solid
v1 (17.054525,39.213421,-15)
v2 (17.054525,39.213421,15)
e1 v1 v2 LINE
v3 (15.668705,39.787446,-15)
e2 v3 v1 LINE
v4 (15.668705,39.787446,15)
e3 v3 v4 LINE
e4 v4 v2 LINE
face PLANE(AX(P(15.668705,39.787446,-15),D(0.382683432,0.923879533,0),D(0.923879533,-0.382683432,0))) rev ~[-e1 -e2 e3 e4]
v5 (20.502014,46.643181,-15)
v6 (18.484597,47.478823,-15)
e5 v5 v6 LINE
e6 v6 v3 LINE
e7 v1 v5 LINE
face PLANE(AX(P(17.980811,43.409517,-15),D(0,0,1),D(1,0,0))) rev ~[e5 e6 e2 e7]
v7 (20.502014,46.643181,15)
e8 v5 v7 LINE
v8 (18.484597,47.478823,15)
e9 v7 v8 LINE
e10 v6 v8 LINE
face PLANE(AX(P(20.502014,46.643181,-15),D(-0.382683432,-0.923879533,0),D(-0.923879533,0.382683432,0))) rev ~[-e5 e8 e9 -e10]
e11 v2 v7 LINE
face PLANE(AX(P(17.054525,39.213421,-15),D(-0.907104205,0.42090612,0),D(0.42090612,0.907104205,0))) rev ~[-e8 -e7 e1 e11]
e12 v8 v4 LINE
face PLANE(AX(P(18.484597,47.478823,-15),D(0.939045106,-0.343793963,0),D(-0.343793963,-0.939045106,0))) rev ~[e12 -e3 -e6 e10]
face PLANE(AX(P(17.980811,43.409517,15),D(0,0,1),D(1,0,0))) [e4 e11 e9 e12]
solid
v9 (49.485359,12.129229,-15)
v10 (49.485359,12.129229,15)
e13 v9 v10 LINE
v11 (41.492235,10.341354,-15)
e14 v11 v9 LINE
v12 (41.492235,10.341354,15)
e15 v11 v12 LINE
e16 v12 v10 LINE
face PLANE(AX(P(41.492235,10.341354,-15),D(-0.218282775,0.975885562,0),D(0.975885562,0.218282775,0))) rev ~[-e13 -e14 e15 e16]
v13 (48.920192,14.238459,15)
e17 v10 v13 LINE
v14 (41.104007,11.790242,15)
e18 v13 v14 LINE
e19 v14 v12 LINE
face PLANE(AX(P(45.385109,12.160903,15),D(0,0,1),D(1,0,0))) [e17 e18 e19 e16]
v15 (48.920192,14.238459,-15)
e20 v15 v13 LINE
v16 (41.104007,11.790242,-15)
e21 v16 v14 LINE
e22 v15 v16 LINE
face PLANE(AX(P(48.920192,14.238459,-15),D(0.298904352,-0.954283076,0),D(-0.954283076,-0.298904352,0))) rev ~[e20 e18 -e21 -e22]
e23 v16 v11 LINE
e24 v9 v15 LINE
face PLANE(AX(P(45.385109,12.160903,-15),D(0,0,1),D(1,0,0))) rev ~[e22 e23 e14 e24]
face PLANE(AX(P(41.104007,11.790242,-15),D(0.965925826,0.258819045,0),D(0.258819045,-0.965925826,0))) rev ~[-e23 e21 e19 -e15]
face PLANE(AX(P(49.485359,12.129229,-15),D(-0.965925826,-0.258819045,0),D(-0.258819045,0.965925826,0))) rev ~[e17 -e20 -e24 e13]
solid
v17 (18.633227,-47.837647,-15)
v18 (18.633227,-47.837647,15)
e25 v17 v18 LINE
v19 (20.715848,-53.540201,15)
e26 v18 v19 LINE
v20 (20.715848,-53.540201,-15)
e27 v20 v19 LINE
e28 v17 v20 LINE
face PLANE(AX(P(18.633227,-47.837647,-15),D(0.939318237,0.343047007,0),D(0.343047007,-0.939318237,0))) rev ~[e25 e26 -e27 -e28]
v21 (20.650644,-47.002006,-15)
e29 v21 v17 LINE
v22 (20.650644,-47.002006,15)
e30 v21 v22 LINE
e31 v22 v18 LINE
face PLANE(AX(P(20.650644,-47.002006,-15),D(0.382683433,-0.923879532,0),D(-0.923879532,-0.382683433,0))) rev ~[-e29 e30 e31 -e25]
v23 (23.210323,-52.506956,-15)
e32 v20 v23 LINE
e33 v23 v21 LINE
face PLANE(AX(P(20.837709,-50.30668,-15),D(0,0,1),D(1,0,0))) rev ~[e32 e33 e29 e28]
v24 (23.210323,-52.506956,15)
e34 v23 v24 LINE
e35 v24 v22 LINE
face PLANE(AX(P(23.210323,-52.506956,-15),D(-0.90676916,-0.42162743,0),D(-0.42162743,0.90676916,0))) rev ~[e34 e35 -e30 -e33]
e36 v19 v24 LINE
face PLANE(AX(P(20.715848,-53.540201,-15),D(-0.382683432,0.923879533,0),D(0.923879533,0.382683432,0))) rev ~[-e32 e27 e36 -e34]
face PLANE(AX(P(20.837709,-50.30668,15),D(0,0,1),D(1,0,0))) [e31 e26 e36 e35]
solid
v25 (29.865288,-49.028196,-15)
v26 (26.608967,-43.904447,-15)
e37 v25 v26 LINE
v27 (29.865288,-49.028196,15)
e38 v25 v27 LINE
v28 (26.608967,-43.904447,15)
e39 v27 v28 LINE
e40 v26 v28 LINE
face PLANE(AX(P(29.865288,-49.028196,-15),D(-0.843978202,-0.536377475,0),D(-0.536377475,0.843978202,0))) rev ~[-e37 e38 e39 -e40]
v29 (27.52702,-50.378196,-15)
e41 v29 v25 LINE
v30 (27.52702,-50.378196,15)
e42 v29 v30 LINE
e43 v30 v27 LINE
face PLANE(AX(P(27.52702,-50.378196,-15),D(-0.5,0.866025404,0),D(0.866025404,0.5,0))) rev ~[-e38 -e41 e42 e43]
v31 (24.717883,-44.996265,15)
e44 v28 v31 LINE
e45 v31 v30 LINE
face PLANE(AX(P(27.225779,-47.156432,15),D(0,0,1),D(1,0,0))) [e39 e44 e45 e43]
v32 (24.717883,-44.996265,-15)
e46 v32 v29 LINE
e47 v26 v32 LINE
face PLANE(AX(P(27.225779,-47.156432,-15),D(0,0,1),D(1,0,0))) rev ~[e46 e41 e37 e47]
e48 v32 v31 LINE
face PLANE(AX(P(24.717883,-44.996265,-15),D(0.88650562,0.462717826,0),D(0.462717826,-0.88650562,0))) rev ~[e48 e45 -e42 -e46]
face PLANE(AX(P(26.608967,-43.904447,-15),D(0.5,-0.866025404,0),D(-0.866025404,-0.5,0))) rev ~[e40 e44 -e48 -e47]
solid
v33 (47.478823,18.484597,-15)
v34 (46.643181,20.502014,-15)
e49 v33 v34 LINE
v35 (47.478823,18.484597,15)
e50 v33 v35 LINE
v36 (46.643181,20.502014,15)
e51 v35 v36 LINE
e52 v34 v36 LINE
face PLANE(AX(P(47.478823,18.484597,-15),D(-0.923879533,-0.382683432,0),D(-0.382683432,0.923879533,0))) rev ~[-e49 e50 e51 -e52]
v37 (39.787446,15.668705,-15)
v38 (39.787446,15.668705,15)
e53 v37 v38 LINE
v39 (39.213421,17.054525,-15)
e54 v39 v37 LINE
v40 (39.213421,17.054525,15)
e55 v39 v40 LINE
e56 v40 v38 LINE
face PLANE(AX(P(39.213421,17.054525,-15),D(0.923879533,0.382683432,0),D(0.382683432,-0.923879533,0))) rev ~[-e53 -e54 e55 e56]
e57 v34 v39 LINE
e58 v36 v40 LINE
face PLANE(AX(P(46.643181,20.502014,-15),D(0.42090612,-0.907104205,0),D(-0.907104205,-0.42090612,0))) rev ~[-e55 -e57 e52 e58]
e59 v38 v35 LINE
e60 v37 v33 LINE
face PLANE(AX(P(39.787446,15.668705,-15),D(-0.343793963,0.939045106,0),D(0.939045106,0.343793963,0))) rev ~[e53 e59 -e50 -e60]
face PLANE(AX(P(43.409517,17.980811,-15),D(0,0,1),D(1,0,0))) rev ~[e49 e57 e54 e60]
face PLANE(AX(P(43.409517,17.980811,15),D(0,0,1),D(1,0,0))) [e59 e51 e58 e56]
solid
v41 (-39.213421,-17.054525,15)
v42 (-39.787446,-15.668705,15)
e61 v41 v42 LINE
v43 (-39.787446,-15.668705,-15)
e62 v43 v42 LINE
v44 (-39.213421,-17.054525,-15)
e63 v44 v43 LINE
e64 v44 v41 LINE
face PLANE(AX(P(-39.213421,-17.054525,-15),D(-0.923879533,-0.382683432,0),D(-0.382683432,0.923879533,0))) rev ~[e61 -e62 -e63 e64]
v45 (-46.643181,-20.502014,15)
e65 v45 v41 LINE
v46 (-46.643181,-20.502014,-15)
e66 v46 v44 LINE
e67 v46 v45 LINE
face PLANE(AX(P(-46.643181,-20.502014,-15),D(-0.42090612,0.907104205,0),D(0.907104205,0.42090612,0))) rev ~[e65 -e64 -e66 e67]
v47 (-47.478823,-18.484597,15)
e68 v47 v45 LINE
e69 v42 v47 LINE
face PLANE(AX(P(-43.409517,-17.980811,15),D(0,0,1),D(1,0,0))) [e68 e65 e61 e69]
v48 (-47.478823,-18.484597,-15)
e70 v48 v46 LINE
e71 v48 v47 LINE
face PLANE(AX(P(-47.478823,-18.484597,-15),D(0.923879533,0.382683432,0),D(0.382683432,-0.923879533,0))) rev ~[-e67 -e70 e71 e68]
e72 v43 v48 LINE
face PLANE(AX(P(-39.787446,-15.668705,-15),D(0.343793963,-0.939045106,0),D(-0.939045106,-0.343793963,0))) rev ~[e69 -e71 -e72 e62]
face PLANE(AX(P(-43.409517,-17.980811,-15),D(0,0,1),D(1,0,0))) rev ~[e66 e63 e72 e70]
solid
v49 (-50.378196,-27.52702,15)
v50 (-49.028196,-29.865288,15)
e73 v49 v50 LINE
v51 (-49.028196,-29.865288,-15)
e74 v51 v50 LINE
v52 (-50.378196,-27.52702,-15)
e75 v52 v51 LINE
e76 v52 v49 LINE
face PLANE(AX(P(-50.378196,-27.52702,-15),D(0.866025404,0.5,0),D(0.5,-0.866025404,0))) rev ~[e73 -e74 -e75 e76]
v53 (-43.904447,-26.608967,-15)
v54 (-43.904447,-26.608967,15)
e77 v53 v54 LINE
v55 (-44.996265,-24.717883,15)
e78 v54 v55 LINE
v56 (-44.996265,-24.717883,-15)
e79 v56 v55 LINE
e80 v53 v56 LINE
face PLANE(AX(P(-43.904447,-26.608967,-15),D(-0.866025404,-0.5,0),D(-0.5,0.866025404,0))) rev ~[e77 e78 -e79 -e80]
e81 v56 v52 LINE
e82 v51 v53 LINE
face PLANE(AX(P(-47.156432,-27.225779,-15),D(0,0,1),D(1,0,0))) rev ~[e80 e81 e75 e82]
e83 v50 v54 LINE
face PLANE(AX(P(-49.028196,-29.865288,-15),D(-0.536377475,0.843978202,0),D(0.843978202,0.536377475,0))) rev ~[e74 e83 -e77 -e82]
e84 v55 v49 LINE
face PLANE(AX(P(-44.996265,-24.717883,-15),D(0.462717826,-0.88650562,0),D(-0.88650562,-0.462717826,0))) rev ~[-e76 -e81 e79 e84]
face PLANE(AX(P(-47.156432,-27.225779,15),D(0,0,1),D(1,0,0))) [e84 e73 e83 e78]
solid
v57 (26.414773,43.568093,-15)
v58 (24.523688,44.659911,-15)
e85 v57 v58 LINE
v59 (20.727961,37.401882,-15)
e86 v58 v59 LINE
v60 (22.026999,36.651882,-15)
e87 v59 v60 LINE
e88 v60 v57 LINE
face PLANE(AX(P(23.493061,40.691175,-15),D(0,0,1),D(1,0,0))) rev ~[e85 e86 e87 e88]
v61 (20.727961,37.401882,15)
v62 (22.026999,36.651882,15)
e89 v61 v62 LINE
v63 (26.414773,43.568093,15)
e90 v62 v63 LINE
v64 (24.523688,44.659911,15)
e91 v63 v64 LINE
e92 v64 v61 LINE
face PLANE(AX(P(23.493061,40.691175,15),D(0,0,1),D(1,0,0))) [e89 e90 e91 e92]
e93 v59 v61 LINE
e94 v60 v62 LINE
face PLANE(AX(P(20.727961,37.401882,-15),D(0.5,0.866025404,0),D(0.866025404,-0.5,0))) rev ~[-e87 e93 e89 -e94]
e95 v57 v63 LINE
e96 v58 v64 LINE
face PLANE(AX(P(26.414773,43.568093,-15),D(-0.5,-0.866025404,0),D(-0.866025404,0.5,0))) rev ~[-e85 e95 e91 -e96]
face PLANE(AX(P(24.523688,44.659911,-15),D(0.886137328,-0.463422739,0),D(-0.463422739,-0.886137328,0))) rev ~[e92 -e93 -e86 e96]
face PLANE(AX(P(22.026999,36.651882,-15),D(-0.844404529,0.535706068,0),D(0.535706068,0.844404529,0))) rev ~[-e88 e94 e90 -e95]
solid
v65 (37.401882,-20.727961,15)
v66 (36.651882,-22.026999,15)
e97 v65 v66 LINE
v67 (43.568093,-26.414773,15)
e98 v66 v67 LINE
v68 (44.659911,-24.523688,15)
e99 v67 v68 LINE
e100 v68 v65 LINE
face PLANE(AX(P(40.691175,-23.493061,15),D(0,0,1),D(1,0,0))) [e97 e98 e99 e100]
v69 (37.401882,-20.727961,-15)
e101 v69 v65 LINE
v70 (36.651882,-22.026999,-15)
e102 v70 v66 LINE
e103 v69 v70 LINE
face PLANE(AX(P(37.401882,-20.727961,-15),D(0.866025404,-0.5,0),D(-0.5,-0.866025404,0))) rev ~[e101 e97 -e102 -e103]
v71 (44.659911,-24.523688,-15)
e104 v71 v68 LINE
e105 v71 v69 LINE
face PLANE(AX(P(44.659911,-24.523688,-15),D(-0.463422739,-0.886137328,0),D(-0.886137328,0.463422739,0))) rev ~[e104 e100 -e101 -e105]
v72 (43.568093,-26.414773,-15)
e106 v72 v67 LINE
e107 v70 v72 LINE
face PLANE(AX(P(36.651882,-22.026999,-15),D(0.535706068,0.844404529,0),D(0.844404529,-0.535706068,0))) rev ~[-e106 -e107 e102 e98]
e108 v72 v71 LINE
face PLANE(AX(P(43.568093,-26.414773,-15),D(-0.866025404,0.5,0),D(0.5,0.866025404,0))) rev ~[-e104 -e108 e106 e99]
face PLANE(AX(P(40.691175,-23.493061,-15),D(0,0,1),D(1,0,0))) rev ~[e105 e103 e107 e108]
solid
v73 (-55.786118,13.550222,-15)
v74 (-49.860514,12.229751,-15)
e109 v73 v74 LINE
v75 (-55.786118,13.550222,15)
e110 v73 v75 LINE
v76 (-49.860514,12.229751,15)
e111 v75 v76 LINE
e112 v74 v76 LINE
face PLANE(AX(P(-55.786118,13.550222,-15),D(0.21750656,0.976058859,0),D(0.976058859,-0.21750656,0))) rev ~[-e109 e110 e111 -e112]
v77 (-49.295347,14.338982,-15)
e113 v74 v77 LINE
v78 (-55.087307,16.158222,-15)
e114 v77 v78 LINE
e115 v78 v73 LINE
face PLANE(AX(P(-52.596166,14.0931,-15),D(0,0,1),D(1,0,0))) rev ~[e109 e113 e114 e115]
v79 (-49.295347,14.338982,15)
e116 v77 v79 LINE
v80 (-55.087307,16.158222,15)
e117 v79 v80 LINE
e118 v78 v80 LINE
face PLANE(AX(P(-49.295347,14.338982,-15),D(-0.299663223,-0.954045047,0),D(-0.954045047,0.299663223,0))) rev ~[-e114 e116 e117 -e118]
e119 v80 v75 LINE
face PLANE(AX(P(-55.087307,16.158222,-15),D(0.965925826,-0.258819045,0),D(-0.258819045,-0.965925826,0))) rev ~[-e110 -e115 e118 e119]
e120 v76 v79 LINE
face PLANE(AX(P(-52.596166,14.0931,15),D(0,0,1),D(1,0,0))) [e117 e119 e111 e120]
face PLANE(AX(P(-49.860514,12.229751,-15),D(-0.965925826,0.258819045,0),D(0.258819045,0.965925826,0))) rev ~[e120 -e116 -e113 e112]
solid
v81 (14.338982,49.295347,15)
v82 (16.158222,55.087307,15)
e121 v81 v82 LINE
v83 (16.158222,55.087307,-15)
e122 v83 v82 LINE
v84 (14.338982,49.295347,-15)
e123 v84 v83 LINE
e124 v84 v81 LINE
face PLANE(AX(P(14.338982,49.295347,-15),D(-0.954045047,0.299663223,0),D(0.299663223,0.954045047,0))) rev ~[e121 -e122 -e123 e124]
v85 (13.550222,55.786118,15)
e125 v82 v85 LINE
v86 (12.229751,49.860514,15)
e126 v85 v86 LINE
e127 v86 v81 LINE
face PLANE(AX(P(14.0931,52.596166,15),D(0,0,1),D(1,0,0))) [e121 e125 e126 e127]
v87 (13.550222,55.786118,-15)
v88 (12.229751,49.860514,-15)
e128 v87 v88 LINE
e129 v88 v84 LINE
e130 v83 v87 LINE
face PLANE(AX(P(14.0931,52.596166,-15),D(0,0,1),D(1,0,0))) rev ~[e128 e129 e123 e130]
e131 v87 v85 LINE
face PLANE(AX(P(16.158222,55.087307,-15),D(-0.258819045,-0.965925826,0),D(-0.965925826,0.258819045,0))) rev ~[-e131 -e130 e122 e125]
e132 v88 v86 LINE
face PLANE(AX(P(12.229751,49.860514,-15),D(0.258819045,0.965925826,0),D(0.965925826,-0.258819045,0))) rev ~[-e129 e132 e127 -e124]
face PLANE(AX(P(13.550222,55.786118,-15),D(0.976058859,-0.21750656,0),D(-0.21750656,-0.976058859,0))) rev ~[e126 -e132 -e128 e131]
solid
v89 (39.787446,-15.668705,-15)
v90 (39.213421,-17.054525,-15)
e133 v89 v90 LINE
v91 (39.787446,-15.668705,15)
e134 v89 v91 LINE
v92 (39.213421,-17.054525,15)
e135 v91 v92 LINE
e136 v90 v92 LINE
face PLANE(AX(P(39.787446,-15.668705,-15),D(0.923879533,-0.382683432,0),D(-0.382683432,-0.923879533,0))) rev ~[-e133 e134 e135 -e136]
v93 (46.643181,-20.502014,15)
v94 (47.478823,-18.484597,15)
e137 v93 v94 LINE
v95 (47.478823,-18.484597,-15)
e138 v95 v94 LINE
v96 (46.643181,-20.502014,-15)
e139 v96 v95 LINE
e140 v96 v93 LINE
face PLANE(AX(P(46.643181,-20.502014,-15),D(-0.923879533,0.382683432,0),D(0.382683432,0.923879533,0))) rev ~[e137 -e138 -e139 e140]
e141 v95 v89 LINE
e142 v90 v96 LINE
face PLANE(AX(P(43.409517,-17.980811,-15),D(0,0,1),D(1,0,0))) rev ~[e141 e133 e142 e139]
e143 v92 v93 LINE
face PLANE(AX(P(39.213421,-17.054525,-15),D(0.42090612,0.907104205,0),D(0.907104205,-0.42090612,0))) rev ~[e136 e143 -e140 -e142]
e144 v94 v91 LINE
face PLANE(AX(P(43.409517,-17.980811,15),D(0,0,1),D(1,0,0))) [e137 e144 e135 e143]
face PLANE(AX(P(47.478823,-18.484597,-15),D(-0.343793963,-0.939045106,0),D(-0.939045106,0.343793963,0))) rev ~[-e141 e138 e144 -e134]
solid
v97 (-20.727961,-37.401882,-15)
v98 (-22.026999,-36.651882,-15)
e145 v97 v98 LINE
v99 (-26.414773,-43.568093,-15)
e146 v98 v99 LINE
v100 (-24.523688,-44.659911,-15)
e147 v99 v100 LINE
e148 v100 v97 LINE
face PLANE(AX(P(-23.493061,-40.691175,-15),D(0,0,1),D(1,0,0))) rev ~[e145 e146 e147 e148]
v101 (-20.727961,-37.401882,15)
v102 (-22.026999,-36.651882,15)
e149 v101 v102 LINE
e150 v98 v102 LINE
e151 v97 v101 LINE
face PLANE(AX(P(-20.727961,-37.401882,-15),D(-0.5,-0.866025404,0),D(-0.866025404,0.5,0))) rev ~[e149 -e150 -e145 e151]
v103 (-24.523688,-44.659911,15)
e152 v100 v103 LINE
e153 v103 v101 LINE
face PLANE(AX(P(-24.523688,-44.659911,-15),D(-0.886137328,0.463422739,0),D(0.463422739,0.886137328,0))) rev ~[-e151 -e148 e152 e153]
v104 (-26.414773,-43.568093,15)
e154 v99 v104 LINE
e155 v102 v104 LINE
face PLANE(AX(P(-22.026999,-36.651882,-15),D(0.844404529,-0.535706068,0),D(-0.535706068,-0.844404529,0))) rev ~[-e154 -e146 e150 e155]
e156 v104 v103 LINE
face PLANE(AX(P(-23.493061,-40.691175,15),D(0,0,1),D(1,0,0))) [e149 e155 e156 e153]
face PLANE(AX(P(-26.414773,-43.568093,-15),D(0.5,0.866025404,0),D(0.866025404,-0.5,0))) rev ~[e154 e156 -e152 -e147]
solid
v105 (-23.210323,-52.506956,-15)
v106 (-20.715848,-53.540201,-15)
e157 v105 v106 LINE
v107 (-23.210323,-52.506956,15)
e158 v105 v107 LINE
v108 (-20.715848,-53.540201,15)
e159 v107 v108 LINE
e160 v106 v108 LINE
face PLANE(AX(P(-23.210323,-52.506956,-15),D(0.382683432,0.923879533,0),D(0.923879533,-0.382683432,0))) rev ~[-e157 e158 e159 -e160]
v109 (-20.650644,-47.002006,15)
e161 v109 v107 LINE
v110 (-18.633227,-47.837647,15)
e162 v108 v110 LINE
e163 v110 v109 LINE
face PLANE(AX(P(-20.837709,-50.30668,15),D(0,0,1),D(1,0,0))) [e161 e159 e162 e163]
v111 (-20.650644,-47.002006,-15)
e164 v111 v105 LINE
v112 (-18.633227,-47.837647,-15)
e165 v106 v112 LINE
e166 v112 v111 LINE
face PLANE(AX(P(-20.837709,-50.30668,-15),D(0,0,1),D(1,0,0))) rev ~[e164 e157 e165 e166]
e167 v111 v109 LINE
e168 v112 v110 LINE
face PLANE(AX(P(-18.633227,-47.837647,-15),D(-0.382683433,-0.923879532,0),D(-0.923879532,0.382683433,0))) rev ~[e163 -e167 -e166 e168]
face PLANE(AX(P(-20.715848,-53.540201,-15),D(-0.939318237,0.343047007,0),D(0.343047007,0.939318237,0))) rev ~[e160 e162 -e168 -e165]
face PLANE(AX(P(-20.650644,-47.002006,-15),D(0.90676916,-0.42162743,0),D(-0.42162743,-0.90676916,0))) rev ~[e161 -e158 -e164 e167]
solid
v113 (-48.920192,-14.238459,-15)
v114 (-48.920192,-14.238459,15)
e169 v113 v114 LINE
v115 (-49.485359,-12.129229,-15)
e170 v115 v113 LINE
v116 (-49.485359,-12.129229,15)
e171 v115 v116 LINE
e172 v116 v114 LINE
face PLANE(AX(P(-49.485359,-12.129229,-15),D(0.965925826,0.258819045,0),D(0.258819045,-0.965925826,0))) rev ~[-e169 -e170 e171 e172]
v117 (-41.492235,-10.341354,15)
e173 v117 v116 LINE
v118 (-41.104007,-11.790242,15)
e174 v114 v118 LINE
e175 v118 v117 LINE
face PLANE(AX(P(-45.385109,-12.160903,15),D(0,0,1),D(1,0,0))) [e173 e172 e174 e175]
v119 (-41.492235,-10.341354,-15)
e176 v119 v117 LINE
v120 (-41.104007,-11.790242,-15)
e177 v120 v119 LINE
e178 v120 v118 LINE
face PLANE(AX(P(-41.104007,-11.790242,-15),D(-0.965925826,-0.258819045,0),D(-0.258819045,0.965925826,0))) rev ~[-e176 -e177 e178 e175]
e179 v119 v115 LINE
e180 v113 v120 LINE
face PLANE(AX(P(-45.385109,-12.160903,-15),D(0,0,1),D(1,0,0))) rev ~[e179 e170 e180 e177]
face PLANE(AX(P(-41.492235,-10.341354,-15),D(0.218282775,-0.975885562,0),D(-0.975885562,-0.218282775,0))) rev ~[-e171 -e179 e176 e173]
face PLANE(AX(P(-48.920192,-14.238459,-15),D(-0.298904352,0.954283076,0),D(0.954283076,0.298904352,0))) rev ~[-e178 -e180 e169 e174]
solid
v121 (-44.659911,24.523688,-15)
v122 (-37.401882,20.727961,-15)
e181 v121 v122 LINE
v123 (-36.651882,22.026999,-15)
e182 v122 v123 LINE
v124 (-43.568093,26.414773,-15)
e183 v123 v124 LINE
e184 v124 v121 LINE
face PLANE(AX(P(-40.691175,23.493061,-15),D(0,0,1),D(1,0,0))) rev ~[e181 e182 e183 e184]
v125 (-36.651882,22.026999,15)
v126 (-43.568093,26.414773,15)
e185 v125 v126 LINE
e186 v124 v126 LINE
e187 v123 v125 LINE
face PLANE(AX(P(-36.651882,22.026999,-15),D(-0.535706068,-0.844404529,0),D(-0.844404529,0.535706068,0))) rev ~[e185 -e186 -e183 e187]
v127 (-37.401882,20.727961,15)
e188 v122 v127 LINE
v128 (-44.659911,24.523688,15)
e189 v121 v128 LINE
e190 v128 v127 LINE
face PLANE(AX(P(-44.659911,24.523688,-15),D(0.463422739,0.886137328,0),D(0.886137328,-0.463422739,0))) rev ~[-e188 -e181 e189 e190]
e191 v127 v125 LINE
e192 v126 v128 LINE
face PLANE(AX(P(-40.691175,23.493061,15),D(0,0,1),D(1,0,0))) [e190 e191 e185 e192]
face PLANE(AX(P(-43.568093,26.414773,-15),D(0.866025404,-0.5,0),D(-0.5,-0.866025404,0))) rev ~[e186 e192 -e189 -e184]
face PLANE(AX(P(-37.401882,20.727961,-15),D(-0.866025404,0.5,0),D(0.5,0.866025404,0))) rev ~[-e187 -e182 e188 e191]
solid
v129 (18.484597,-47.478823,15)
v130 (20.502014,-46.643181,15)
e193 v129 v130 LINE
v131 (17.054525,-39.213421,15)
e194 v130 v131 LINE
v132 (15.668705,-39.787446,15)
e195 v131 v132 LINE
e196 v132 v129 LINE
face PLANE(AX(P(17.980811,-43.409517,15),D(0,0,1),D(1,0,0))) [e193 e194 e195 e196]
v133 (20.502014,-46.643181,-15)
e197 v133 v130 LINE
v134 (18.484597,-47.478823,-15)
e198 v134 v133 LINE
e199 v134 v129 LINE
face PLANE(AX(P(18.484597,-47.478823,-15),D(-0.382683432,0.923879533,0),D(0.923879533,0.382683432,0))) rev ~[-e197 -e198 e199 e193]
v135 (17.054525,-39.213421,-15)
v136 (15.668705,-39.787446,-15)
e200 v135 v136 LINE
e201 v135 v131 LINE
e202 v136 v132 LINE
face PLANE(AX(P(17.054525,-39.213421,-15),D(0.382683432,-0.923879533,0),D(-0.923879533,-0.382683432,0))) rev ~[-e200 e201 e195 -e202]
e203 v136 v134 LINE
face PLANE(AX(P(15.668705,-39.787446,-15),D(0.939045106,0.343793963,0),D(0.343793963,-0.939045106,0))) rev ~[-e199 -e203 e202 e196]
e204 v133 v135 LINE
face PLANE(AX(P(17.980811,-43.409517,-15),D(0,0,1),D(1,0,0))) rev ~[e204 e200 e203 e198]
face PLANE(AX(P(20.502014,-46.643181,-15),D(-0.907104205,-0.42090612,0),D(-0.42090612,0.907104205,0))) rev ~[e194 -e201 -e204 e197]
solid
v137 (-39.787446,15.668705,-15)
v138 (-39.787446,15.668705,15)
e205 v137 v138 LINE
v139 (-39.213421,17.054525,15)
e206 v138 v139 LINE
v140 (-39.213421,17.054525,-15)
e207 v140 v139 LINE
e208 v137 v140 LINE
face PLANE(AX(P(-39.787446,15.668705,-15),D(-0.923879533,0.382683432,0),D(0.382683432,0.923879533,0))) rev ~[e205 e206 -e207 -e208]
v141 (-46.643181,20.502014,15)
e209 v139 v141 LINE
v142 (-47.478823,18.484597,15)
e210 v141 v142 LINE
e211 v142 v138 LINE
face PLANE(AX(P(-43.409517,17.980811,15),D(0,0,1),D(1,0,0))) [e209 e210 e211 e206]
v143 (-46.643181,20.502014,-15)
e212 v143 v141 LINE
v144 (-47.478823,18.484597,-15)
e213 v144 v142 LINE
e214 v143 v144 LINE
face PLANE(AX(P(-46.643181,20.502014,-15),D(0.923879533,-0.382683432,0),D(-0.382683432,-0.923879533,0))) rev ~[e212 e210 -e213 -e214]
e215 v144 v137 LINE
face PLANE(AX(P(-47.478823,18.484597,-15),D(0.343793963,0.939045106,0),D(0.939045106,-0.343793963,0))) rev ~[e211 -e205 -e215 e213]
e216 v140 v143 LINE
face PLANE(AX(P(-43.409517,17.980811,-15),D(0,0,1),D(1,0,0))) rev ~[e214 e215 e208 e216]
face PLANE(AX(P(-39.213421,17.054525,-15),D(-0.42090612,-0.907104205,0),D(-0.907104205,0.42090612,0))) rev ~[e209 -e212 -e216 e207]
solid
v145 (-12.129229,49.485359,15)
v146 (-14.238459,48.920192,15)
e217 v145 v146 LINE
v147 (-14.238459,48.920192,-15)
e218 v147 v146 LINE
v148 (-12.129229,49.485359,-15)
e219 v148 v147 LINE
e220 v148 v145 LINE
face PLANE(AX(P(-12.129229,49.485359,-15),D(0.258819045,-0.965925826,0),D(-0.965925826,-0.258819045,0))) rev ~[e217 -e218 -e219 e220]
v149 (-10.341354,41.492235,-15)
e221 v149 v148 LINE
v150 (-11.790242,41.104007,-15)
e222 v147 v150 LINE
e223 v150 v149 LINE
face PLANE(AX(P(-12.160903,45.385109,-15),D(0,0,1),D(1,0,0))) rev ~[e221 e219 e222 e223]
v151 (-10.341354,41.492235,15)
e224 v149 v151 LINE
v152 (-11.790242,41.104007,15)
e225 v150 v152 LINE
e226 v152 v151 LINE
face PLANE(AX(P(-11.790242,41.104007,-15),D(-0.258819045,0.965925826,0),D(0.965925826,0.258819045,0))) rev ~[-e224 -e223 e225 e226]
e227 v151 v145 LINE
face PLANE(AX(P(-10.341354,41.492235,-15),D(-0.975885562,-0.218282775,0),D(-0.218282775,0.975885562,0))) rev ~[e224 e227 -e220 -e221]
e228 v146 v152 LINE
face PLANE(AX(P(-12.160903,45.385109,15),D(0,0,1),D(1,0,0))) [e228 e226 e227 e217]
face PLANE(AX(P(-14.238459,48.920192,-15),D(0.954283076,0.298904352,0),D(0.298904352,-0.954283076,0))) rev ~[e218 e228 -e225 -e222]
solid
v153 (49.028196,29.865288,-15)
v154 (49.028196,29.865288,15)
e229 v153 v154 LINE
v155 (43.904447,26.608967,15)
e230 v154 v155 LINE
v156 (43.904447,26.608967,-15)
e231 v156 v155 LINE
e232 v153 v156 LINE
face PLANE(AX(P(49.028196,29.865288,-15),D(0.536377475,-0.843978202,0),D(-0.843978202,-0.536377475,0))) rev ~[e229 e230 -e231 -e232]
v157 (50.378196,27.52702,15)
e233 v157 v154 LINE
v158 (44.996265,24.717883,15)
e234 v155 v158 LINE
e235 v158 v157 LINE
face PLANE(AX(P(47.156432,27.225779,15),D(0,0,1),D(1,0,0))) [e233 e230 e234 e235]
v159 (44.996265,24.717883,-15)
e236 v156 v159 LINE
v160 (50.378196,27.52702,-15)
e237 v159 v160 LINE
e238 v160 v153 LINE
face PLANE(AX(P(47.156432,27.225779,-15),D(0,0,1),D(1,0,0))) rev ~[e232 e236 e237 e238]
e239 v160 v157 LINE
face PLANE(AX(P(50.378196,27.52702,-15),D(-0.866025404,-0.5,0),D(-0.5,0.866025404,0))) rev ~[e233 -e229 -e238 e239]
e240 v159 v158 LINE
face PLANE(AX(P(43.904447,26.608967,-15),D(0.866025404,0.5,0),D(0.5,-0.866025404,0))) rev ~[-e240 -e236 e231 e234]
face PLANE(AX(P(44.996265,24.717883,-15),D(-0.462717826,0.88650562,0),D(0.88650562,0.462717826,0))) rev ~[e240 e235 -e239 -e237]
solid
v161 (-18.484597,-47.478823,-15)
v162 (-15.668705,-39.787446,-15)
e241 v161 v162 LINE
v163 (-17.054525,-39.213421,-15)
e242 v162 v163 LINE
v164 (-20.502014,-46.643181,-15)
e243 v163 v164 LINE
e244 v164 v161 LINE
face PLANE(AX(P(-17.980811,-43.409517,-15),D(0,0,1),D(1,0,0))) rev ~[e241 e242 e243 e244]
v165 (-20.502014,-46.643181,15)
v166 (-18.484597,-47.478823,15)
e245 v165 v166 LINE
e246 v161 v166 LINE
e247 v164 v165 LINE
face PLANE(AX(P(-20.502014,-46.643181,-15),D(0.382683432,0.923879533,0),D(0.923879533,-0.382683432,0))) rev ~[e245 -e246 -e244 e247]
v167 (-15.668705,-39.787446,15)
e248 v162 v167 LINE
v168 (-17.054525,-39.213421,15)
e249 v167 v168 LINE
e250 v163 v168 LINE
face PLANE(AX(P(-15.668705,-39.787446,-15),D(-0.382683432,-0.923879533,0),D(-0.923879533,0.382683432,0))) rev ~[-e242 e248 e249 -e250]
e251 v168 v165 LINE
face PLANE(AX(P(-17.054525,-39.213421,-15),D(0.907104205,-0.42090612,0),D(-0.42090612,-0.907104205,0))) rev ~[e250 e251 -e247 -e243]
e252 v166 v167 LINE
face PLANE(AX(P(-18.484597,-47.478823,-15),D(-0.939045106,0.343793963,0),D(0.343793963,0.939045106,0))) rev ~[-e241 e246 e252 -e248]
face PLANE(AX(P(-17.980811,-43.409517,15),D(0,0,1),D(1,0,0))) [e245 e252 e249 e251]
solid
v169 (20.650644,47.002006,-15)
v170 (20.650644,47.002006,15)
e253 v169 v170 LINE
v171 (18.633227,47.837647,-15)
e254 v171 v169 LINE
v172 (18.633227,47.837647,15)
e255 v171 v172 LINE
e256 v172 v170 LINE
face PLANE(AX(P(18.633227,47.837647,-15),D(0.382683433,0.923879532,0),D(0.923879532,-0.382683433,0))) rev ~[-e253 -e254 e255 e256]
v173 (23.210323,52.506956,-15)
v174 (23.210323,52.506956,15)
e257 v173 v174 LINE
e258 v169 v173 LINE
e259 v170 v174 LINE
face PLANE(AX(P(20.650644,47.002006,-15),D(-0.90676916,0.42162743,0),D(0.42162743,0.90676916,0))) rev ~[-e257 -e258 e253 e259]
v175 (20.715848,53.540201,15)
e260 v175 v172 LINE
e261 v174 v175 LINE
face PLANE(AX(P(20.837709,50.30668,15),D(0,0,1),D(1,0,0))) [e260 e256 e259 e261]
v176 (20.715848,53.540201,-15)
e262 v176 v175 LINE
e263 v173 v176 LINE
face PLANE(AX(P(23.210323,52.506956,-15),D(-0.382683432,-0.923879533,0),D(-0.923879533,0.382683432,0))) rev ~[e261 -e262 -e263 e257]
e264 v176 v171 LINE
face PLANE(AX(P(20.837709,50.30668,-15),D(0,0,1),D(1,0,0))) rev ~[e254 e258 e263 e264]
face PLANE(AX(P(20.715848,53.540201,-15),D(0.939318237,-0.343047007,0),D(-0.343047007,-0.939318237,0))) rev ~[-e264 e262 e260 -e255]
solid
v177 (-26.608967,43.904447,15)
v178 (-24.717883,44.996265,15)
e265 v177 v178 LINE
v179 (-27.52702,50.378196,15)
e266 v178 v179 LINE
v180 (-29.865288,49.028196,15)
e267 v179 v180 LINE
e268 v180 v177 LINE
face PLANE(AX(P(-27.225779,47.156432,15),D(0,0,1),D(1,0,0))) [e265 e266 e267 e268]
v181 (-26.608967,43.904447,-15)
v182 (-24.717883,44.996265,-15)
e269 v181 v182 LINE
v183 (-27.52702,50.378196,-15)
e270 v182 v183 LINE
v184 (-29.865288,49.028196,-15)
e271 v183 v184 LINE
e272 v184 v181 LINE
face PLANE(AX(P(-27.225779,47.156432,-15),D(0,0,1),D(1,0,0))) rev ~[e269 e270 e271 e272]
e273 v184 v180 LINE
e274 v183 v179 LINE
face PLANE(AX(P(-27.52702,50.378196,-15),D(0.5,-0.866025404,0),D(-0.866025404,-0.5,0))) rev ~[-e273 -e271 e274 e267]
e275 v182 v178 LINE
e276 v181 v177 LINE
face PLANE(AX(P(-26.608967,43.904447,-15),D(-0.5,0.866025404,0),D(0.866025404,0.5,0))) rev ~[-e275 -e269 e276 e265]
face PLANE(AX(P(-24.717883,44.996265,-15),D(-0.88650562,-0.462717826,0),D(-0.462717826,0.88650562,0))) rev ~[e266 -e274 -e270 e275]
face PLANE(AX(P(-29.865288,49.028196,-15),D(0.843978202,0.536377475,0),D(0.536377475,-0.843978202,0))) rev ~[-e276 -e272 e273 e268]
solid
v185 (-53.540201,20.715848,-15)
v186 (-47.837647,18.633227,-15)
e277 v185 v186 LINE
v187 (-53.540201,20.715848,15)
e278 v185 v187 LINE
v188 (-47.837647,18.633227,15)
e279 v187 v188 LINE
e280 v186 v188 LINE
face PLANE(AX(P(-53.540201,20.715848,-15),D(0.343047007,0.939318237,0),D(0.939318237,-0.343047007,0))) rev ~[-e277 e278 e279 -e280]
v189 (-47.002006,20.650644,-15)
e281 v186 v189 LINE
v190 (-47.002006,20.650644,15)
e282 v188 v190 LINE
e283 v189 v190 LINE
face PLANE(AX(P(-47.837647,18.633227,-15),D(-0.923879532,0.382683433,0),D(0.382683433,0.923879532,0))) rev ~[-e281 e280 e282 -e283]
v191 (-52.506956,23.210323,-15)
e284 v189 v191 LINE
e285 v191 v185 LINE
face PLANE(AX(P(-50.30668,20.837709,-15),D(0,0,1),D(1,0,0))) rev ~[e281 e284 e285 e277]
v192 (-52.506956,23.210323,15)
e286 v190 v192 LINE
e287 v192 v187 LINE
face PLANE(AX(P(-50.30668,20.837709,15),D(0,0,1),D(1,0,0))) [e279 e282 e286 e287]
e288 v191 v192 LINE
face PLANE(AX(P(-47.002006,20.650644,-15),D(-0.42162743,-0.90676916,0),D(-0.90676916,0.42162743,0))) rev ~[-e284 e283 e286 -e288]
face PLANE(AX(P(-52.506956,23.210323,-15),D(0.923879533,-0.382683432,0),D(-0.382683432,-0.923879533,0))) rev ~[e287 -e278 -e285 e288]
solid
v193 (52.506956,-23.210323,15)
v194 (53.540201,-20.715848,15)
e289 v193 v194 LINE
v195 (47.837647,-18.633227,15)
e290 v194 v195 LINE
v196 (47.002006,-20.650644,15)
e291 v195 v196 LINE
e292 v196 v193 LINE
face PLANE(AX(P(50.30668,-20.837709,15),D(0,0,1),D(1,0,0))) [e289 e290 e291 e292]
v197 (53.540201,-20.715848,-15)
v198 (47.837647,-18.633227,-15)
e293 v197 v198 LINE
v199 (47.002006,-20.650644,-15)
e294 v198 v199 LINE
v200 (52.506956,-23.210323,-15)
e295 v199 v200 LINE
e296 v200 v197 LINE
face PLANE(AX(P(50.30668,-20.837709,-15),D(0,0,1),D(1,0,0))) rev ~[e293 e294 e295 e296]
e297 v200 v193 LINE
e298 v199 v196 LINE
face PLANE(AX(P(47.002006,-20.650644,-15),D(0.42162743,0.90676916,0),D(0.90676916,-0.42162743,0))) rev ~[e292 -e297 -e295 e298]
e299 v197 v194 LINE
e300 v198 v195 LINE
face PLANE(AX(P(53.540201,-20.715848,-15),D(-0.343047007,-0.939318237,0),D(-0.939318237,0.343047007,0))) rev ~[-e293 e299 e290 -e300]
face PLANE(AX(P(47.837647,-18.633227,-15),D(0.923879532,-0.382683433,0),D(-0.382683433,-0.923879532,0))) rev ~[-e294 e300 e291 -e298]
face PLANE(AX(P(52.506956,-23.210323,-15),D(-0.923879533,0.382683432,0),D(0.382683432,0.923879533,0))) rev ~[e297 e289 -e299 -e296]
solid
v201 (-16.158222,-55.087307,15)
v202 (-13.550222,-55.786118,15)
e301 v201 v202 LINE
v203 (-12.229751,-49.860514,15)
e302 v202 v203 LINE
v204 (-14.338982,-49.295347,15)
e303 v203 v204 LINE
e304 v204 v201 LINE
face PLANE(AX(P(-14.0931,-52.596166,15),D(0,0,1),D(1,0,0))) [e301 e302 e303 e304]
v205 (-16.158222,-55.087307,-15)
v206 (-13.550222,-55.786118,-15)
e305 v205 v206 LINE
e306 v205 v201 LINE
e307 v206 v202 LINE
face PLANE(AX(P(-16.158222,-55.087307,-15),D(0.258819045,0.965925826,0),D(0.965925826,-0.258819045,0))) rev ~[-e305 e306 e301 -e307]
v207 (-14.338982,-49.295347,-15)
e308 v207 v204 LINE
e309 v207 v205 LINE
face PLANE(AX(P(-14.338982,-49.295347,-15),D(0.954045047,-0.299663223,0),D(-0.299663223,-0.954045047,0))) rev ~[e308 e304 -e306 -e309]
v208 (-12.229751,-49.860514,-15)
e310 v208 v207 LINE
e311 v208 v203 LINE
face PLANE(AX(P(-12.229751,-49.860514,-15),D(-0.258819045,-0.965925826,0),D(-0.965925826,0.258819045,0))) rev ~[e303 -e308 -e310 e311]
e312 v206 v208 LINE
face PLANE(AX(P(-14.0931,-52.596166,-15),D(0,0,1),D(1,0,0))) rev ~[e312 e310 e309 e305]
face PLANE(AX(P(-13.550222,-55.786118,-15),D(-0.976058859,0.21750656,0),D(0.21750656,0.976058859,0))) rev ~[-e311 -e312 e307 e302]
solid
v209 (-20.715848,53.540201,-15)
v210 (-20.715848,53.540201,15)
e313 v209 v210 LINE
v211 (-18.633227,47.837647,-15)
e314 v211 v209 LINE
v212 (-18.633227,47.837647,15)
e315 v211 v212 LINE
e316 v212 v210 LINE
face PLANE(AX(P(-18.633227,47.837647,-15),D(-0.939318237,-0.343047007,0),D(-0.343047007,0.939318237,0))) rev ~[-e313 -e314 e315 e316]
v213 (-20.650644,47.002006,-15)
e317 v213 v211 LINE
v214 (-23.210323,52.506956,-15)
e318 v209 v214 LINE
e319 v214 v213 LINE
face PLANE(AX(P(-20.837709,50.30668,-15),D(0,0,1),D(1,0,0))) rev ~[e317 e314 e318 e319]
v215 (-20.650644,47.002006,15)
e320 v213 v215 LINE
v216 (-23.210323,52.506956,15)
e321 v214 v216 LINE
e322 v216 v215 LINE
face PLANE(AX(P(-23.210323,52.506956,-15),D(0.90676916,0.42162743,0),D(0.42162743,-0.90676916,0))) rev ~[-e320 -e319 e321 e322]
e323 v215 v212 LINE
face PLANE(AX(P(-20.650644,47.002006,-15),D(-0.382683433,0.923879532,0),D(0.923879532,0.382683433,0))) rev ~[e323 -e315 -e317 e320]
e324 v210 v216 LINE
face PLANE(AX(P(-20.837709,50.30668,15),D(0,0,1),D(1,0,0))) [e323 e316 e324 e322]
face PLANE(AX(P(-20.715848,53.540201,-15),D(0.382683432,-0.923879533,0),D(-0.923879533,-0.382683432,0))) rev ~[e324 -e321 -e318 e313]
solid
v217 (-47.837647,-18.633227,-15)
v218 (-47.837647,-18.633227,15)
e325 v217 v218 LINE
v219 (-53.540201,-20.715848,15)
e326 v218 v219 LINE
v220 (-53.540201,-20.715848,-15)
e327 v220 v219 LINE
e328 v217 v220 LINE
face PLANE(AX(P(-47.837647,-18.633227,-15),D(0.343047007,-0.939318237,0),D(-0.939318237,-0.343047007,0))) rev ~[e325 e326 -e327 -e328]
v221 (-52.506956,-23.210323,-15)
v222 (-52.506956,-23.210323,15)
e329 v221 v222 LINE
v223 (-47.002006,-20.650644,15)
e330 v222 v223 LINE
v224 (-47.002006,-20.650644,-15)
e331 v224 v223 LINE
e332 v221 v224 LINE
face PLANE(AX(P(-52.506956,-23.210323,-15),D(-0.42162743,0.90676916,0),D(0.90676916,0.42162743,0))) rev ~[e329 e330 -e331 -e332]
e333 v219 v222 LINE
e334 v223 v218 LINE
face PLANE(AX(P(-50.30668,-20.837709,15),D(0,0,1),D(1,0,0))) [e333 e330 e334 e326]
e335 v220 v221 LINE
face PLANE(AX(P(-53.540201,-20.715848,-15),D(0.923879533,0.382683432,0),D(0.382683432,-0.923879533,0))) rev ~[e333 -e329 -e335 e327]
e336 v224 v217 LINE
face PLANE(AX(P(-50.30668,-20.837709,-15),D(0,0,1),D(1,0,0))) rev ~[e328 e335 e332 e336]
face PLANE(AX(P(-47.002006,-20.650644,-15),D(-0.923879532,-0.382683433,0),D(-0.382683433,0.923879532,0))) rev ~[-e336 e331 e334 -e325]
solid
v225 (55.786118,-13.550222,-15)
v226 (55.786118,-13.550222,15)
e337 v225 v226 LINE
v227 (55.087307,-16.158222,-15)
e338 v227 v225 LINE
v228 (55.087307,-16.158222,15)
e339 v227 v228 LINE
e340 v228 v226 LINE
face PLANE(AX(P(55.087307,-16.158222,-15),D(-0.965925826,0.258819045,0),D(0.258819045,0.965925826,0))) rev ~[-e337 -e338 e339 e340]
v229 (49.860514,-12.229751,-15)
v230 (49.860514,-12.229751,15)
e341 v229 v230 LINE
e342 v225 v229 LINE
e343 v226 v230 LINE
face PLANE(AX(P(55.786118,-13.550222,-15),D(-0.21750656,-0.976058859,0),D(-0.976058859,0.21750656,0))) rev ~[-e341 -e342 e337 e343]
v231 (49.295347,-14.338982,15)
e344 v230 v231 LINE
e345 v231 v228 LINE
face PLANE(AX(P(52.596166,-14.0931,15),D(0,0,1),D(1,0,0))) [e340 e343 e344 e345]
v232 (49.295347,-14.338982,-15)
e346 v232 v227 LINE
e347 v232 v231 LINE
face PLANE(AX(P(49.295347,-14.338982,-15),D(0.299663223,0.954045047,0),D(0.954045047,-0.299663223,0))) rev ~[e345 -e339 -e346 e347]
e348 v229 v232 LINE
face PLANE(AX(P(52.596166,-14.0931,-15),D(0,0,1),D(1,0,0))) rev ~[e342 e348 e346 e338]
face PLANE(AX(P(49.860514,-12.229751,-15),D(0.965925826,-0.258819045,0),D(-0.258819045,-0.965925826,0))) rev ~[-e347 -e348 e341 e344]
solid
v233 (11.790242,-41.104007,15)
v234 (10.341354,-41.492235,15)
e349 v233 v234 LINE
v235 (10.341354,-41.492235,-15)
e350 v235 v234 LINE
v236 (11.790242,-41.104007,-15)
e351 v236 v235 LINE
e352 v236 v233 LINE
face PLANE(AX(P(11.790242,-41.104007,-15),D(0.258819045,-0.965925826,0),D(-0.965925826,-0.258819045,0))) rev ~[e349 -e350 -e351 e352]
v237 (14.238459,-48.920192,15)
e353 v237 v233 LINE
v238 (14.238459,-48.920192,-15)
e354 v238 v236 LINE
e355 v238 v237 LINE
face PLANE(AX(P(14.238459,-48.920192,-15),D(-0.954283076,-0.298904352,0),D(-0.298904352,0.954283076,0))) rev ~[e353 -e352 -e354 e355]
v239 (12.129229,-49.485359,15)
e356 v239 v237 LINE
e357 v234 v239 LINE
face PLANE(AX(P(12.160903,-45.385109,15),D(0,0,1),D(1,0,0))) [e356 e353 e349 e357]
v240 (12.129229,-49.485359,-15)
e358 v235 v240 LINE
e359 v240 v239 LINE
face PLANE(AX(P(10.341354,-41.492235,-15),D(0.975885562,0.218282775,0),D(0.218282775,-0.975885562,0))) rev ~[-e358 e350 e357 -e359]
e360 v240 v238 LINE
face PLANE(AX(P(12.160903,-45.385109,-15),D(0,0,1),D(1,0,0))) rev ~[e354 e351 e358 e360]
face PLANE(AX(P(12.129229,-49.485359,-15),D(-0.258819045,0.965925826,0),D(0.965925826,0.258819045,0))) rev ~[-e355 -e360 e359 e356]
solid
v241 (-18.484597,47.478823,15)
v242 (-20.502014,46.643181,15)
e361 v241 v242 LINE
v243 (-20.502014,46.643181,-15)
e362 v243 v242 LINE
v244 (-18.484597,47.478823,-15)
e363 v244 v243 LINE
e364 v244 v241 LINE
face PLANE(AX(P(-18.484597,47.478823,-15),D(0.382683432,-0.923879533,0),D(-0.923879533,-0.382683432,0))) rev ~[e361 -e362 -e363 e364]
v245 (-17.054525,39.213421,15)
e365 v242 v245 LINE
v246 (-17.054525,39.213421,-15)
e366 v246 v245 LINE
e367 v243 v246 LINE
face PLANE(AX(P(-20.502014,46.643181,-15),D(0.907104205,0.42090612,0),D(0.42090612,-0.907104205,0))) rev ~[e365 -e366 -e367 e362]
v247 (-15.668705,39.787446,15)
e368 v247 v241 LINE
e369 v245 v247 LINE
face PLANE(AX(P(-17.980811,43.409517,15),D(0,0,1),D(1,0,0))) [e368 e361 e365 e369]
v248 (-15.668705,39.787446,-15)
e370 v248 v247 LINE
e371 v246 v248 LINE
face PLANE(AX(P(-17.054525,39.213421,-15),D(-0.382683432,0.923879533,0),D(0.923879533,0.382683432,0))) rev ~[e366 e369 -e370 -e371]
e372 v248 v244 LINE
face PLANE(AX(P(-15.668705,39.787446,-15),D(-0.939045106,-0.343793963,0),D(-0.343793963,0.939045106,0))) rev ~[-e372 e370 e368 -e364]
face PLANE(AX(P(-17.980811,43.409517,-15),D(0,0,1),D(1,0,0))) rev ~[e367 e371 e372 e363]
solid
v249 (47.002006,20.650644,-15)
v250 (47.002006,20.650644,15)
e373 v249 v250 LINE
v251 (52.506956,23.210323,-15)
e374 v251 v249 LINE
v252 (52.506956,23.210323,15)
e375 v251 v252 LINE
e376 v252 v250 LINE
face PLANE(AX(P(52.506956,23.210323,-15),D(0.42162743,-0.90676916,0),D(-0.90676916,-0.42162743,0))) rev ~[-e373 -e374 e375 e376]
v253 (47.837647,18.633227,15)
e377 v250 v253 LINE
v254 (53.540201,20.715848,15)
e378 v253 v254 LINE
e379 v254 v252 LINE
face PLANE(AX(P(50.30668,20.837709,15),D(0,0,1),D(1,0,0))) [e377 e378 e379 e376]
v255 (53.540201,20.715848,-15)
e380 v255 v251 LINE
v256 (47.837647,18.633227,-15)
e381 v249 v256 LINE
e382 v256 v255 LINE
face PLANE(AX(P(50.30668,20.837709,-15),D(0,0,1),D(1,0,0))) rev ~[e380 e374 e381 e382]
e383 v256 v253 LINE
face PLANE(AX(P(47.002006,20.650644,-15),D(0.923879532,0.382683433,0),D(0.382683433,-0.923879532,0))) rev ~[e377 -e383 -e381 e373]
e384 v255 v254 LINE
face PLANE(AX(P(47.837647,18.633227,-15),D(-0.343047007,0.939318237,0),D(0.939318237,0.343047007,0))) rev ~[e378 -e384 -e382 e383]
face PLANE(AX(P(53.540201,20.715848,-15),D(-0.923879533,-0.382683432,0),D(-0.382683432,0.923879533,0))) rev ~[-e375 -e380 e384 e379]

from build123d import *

# Parameters (mm, degrees)
SLOT_COPPER_ENVELOPES_START    = -15
SLOT_COPPER_ENVELOPES_DEPTH    = 30
SLOT_COPPER_ENVELOPES_2_DEPTH  = 30
SLOT_COPPER_ENVELOPES_3_DEPTH  = 30
SLOT_COPPER_ENVELOPES_4_DEPTH  = 30
SLOT_COPPER_ENVELOPES_5_DEPTH  = 30
SLOT_COPPER_ENVELOPES_6_DEPTH  = 30
SLOT_COPPER_ENVELOPES_7_DEPTH  = 30
SLOT_COPPER_ENVELOPES_8_DEPTH  = 30
SLOT_COPPER_ENVELOPES_9_DEPTH  = 30
SLOT_COPPER_ENVELOPES_10_DEPTH = 30
SLOT_COPPER_ENVELOPES_11_DEPTH = 30
SLOT_COPPER_ENVELOPES_12_DEPTH = 30
SLOT_COPPER_ENVELOPES_13_DEPTH = 30
SLOT_COPPER_ENVELOPES_14_DEPTH = 30
SLOT_COPPER_ENVELOPES_15_DEPTH = 30
SLOT_COPPER_ENVELOPES_16_DEPTH = 30
SLOT_COPPER_ENVELOPES_17_DEPTH = 30
SLOT_COPPER_ENVELOPES_18_DEPTH = 30
SLOT_COPPER_ENVELOPES_19_DEPTH = 30
SLOT_COPPER_ENVELOPES_20_DEPTH = 30
SLOT_COPPER_ENVELOPES_21_DEPTH = 30
SLOT_COPPER_ENVELOPES_22_DEPTH = 30
SLOT_COPPER_ENVELOPES_23_DEPTH = 30
SLOT_COPPER_ENVELOPES_24_DEPTH = 30
SLOT_COPPER_ENVELOPES_25_DEPTH = 30
SLOT_COPPER_ENVELOPES_26_DEPTH = 30
SLOT_COPPER_ENVELOPES_27_DEPTH = 30
SLOT_COPPER_ENVELOPES_28_DEPTH = 30
SLOT_COPPER_ENVELOPES_29_DEPTH = 30
SLOT_COPPER_ENVELOPES_30_DEPTH = 30
SLOT_COPPER_ENVELOPES_31_DEPTH = 30
SLOT_COPPER_ENVELOPES_32_DEPTH = 30


with BuildPart() as part:
    # Эскиз1 → Slot_copper_envelopes (new body)
    with BuildSketch(Plane.XY.offset(SLOT_COPPER_ENVELOPES_START)):
        Polygon((41.492235107, 10.341353754), (49.485358891, 12.129228595), (48.920192212, 14.238459354), (41.104006539, 11.790242493), align=None)
    extrude(amount=SLOT_COPPER_ENVELOPES_DEPTH)


with BuildPart() as body_2:
    # Эскиз1 → Slot_copper_envelopes 2 (new body)
    with BuildSketch(Plane.XY.offset(SLOT_COPPER_ENVELOPES_START)):
        Polygon((47.83764723, 18.633226791), (53.540201034, 20.71584793), (52.506955767, 23.210322668), (47.002005771, 20.650643733), align=None)
    extrude(amount=SLOT_COPPER_ENVELOPES_2_DEPTH)


with BuildPart() as body_3:
    # Эскиз1 → Slot_copper_envelopes 3 (new body)
    with BuildSketch(Plane.XY.offset(SLOT_COPPER_ENVELOPES_START)):
        Polygon((39.787445755, 15.668705494), (47.478822762, 18.48459683), (46.643181304, 20.502013772), (39.213420607, 17.054524793), align=None)
    extrude(amount=SLOT_COPPER_ENVELOPES_3_DEPTH)


with BuildPart() as body_4:
    # Эскиз1 → Slot_copper_envelopes 4 (new body)
    with BuildSketch(Plane.XY.offset(SLOT_COPPER_ENVELOPES_START)):
        Polygon((44.996265385, 24.71788289), (50.378196443, 27.527019551), (49.028196443, 29.865288141), (43.904447203, 26.608967454), align=None)
    extrude(amount=SLOT_COPPER_ENVELOPES_4_DEPTH)


with BuildPart() as body_5:
    # Эскиз1 → Slot_copper_envelopes 5 (new body)
    with BuildSketch(Plane.XY.offset(SLOT_COPPER_ENVELOPES_START)):
        Polygon((22.026999445, 36.651882176), (26.414773051, 43.568092631), (24.523688487, 44.659910813), (20.727961339, 37.401882176), align=None)
    extrude(amount=SLOT_COPPER_ENVELOPES_5_DEPTH)


with BuildPart() as body_6:
    # Эскиз1 → Slot_copper_envelopes 6 (new body)
    with BuildSketch(Plane.XY.offset(SLOT_COPPER_ENVELOPES_START)):
        Polygon((20.650643733, 47.002005771), (23.210322668, 52.506955767), (20.71584793, 53.540201034), (18.633226791, 47.83764723), align=None)
    extrude(amount=SLOT_COPPER_ENVELOPES_6_DEPTH)


with BuildPart() as body_7:
    # Эскиз1 → Slot_copper_envelopes 7 (new body)
    with BuildSketch(Plane.XY.offset(SLOT_COPPER_ENVELOPES_START)):
        Polygon((17.054524793, 39.213420607), (20.502013772, 46.643181304), (18.48459683, 47.478822762), (15.668705494, 39.787445755), align=None)
    extrude(amount=SLOT_COPPER_ENVELOPES_7_DEPTH)


with BuildPart() as body_8:
    # Эскиз1 → Slot_copper_envelopes 8 (new body)
    with BuildSketch(Plane.XY.offset(SLOT_COPPER_ENVELOPES_START)):
        Polygon((14.338981773, 49.29534699), (16.158222139, 55.087306519), (13.550222408, 55.786117941), (12.229751015, 49.860513668), align=None)
    extrude(amount=SLOT_COPPER_ENVELOPES_8_DEPTH)


with BuildPart() as body_9:
    # Эскиз1 → Slot_copper_envelopes 9 (new body)
    with BuildSketch(Plane.XY.offset(SLOT_COPPER_ENVELOPES_START)):
        Polygon((-10.341353754, 41.492235107), (-12.129228595, 49.485358891), (-14.238459354, 48.920192212), (-11.790242493, 41.104006539), align=None)
    extrude(amount=SLOT_COPPER_ENVELOPES_9_DEPTH)


with BuildPart() as body_10:
    # Эскиз1 → Slot_copper_envelopes 10 (new body)
    with BuildSketch(Plane.XY.offset(SLOT_COPPER_ENVELOPES_START)):
        Polygon((-18.633226791, 47.83764723), (-20.71584793, 53.540201034), (-23.210322668, 52.506955767), (-20.650643733, 47.002005771), align=None)
    extrude(amount=SLOT_COPPER_ENVELOPES_10_DEPTH)


with BuildPart() as body_11:
    # Эскиз1 → Slot_copper_envelopes 11 (new body)
    with BuildSketch(Plane.XY.offset(SLOT_COPPER_ENVELOPES_START)):
        Polygon((-15.668705494, 39.787445755), (-18.48459683, 47.478822762), (-20.502013772, 46.643181304), (-17.054524793, 39.213420607), align=None)
    extrude(amount=SLOT_COPPER_ENVELOPES_11_DEPTH)


with BuildPart() as body_12:
    # Эскиз1 → Slot_copper_envelopes 12 (new body)
    with BuildSketch(Plane.XY.offset(SLOT_COPPER_ENVELOPES_START)):
        Polygon((-24.71788289, 44.996265385), (-27.527019551, 50.378196443), (-29.865288141, 49.028196443), (-26.608967454, 43.904447203), align=None)
    extrude(amount=SLOT_COPPER_ENVELOPES_12_DEPTH)


with BuildPart() as body_13:
    # Эскиз1 → Slot_copper_envelopes 13 (new body)
    with BuildSketch(Plane.XY.offset(SLOT_COPPER_ENVELOPES_START)):
        Polygon((-36.651882176, 22.026999445), (-43.568092631, 26.414773051), (-44.659910813, 24.523688487), (-37.401882176, 20.727961339), align=None)
    extrude(amount=SLOT_COPPER_ENVELOPES_13_DEPTH)


with BuildPart() as body_14:
    # Эскиз1 → Slot_copper_envelopes 14 (new body)
    with BuildSketch(Plane.XY.offset(SLOT_COPPER_ENVELOPES_START)):
        Polygon((-47.002005771, 20.650643733), (-52.506955767, 23.210322668), (-53.540201034, 20.71584793), (-47.83764723, 18.633226791), align=None)
    extrude(amount=SLOT_COPPER_ENVELOPES_14_DEPTH)


with BuildPart() as body_15:
    # Эскиз1 → Slot_copper_envelopes 15 (new body)
    with BuildSketch(Plane.XY.offset(SLOT_COPPER_ENVELOPES_START)):
        Polygon((-39.213420607, 17.054524793), (-46.643181304, 20.502013772), (-47.478822762, 18.48459683), (-39.787445755, 15.668705494), align=None)
    extrude(amount=SLOT_COPPER_ENVELOPES_15_DEPTH)


with BuildPart() as body_16:
    # Эскиз1 → Slot_copper_envelopes 16 (new body)
    with BuildSketch(Plane.XY.offset(SLOT_COPPER_ENVELOPES_START)):
        Polygon((-49.29534699, 14.338981773), (-55.087306519, 16.158222139), (-55.786117941, 13.550222408), (-49.860513668, 12.229751015), align=None)
    extrude(amount=SLOT_COPPER_ENVELOPES_16_DEPTH)


with BuildPart() as body_17:
    # Эскиз1 → Slot_copper_envelopes 17 (new body)
    with BuildSketch(Plane.XY.offset(SLOT_COPPER_ENVELOPES_START)):
        Polygon((-41.492235107, -10.341353754), (-49.485358891, -12.129228595), (-48.920192212, -14.238459354), (-41.104006539, -11.790242493), align=None)
    extrude(amount=SLOT_COPPER_ENVELOPES_17_DEPTH)


with BuildPart() as body_18:
    # Эскиз1 → Slot_copper_envelopes 18 (new body)
    with BuildSketch(Plane.XY.offset(SLOT_COPPER_ENVELOPES_START)):
        Polygon((-47.83764723, -18.633226791), (-53.540201034, -20.71584793), (-52.506955767, -23.210322668), (-47.002005771, -20.650643733), align=None)
    extrude(amount=SLOT_COPPER_ENVELOPES_18_DEPTH)


with BuildPart() as body_19:
    # Эскиз1 → Slot_copper_envelopes 19 (new body)
    with BuildSketch(Plane.XY.offset(SLOT_COPPER_ENVELOPES_START)):
        Polygon((-39.787445755, -15.668705494), (-47.478822762, -18.48459683), (-46.643181304, -20.502013772), (-39.213420607, -17.054524793), align=None)
    extrude(amount=SLOT_COPPER_ENVELOPES_19_DEPTH)


with BuildPart() as body_20:
    # Эскиз1 → Slot_copper_envelopes 20 (new body)
    with BuildSketch(Plane.XY.offset(SLOT_COPPER_ENVELOPES_START)):
        Polygon((-44.996265385, -24.71788289), (-50.378196443, -27.527019551), (-49.028196443, -29.865288141), (-43.904447203, -26.608967454), align=None)
    extrude(amount=SLOT_COPPER_ENVELOPES_20_DEPTH)


with BuildPart() as body_21:
    # Эскиз1 → Slot_copper_envelopes 21 (new body)
    with BuildSketch(Plane.XY.offset(SLOT_COPPER_ENVELOPES_START)):
        Polygon((-22.026999445, -36.651882176), (-26.414773051, -43.568092631), (-24.523688487, -44.659910813), (-20.727961339, -37.401882176), align=None)
    extrude(amount=SLOT_COPPER_ENVELOPES_21_DEPTH)


with BuildPart() as body_22:
    # Эскиз1 → Slot_copper_envelopes 22 (new body)
    with BuildSketch(Plane.XY.offset(SLOT_COPPER_ENVELOPES_START)):
        Polygon((-20.650643733, -47.002005771), (-23.210322668, -52.506955767), (-20.71584793, -53.540201034), (-18.633226791, -47.83764723), align=None)
    extrude(amount=SLOT_COPPER_ENVELOPES_22_DEPTH)


with BuildPart() as body_23:
    # Эскиз1 → Slot_copper_envelopes 23 (new body)
    with BuildSketch(Plane.XY.offset(SLOT_COPPER_ENVELOPES_START)):
        Polygon((-17.054524793, -39.213420607), (-20.502013772, -46.643181304), (-18.48459683, -47.478822762), (-15.668705494, -39.787445755), align=None)
    extrude(amount=SLOT_COPPER_ENVELOPES_23_DEPTH)


with BuildPart() as body_24:
    # Эскиз1 → Slot_copper_envelopes 24 (new body)
    with BuildSketch(Plane.XY.offset(SLOT_COPPER_ENVELOPES_START)):
        Polygon((-14.338981773, -49.29534699), (-16.158222139, -55.087306519), (-13.550222408, -55.786117941), (-12.229751015, -49.860513668), align=None)
    extrude(amount=SLOT_COPPER_ENVELOPES_24_DEPTH)


with BuildPart() as body_25:
    # Эскиз1 → Slot_copper_envelopes 25 (new body)
    with BuildSketch(Plane.XY.offset(SLOT_COPPER_ENVELOPES_START)):
        Polygon((10.341353754, -41.492235107), (12.129228595, -49.485358891), (14.238459354, -48.920192212), (11.790242493, -41.104006539), align=None)
    extrude(amount=SLOT_COPPER_ENVELOPES_25_DEPTH)


with BuildPart() as body_26:
    # Эскиз1 → Slot_copper_envelopes 26 (new body)
    with BuildSketch(Plane.XY.offset(SLOT_COPPER_ENVELOPES_START)):
        Polygon((18.633226791, -47.83764723), (20.71584793, -53.540201034), (23.210322668, -52.506955767), (20.650643733, -47.002005771), align=None)
    extrude(amount=SLOT_COPPER_ENVELOPES_26_DEPTH)


with BuildPart() as body_27:
    # Эскиз1 → Slot_copper_envelopes 27 (new body)
    with BuildSketch(Plane.XY.offset(SLOT_COPPER_ENVELOPES_START)):
        Polygon((15.668705494, -39.787445755), (18.48459683, -47.478822762), (20.502013772, -46.643181304), (17.054524793, -39.213420607), align=None)
    extrude(amount=SLOT_COPPER_ENVELOPES_27_DEPTH)


with BuildPart() as body_28:
    # Эскиз1 → Slot_copper_envelopes 28 (new body)
    with BuildSketch(Plane.XY.offset(SLOT_COPPER_ENVELOPES_START)):
        Polygon((24.71788289, -44.996265385), (27.527019551, -50.378196443), (29.865288141, -49.028196443), (26.608967454, -43.904447203), align=None)
    extrude(amount=SLOT_COPPER_ENVELOPES_28_DEPTH)


with BuildPart() as body_29:
    # Эскиз1 → Slot_copper_envelopes 29 (new body)
    with BuildSketch(Plane.XY.offset(SLOT_COPPER_ENVELOPES_START)):
        Polygon((36.651882176, -22.026999445), (43.568092631, -26.414773051), (44.659910813, -24.523688487), (37.401882176, -20.727961339), align=None)
    extrude(amount=SLOT_COPPER_ENVELOPES_29_DEPTH)


with BuildPart() as body_30:
    # Эскиз1 → Slot_copper_envelopes 30 (new body)
    with BuildSketch(Plane.XY.offset(SLOT_COPPER_ENVELOPES_START)):
        Polygon((47.002005771, -20.650643733), (52.506955767, -23.210322668), (53.540201034, -20.71584793), (47.83764723, -18.633226791), align=None)
    extrude(amount=SLOT_COPPER_ENVELOPES_30_DEPTH)


with BuildPart() as body_31:
    # Эскиз1 → Slot_copper_envelopes 31 (new body)
    with BuildSketch(Plane.XY.offset(SLOT_COPPER_ENVELOPES_START)):
        Polygon((39.213420607, -17.054524793), (46.643181304, -20.502013772), (47.478822762, -18.48459683), (39.787445755, -15.668705494), align=None)
    extrude(amount=SLOT_COPPER_ENVELOPES_31_DEPTH)


with BuildPart() as body_32:
    # Эскиз1 → Slot_copper_envelopes 32 (new body)
    with BuildSketch(Plane.XY.offset(SLOT_COPPER_ENVELOPES_START)):
        Polygon((49.29534699, -14.338981773), (55.087306519, -16.158222139), (55.786117941, -13.550222408), (49.860513668, -12.229751015), align=None)
    extrude(amount=SLOT_COPPER_ENVELOPES_32_DEPTH)


solid = Compound([part.part, body_2.part, body_3.part, body_4.part, body_5.part, body_6.part, body_7.part, body_8.part, body_9.part, body_10.part, body_11.part, body_12.part, body_13.part, body_14.part, body_15.part, body_16.part, body_17.part, body_18.part, body_19.part, body_20.part, body_21.part, body_22.part, body_23.part, body_24.part, body_25.part, body_26.part, body_27.part, body_28.part, body_29.part, body_30.part, body_31.part, body_32.part])
